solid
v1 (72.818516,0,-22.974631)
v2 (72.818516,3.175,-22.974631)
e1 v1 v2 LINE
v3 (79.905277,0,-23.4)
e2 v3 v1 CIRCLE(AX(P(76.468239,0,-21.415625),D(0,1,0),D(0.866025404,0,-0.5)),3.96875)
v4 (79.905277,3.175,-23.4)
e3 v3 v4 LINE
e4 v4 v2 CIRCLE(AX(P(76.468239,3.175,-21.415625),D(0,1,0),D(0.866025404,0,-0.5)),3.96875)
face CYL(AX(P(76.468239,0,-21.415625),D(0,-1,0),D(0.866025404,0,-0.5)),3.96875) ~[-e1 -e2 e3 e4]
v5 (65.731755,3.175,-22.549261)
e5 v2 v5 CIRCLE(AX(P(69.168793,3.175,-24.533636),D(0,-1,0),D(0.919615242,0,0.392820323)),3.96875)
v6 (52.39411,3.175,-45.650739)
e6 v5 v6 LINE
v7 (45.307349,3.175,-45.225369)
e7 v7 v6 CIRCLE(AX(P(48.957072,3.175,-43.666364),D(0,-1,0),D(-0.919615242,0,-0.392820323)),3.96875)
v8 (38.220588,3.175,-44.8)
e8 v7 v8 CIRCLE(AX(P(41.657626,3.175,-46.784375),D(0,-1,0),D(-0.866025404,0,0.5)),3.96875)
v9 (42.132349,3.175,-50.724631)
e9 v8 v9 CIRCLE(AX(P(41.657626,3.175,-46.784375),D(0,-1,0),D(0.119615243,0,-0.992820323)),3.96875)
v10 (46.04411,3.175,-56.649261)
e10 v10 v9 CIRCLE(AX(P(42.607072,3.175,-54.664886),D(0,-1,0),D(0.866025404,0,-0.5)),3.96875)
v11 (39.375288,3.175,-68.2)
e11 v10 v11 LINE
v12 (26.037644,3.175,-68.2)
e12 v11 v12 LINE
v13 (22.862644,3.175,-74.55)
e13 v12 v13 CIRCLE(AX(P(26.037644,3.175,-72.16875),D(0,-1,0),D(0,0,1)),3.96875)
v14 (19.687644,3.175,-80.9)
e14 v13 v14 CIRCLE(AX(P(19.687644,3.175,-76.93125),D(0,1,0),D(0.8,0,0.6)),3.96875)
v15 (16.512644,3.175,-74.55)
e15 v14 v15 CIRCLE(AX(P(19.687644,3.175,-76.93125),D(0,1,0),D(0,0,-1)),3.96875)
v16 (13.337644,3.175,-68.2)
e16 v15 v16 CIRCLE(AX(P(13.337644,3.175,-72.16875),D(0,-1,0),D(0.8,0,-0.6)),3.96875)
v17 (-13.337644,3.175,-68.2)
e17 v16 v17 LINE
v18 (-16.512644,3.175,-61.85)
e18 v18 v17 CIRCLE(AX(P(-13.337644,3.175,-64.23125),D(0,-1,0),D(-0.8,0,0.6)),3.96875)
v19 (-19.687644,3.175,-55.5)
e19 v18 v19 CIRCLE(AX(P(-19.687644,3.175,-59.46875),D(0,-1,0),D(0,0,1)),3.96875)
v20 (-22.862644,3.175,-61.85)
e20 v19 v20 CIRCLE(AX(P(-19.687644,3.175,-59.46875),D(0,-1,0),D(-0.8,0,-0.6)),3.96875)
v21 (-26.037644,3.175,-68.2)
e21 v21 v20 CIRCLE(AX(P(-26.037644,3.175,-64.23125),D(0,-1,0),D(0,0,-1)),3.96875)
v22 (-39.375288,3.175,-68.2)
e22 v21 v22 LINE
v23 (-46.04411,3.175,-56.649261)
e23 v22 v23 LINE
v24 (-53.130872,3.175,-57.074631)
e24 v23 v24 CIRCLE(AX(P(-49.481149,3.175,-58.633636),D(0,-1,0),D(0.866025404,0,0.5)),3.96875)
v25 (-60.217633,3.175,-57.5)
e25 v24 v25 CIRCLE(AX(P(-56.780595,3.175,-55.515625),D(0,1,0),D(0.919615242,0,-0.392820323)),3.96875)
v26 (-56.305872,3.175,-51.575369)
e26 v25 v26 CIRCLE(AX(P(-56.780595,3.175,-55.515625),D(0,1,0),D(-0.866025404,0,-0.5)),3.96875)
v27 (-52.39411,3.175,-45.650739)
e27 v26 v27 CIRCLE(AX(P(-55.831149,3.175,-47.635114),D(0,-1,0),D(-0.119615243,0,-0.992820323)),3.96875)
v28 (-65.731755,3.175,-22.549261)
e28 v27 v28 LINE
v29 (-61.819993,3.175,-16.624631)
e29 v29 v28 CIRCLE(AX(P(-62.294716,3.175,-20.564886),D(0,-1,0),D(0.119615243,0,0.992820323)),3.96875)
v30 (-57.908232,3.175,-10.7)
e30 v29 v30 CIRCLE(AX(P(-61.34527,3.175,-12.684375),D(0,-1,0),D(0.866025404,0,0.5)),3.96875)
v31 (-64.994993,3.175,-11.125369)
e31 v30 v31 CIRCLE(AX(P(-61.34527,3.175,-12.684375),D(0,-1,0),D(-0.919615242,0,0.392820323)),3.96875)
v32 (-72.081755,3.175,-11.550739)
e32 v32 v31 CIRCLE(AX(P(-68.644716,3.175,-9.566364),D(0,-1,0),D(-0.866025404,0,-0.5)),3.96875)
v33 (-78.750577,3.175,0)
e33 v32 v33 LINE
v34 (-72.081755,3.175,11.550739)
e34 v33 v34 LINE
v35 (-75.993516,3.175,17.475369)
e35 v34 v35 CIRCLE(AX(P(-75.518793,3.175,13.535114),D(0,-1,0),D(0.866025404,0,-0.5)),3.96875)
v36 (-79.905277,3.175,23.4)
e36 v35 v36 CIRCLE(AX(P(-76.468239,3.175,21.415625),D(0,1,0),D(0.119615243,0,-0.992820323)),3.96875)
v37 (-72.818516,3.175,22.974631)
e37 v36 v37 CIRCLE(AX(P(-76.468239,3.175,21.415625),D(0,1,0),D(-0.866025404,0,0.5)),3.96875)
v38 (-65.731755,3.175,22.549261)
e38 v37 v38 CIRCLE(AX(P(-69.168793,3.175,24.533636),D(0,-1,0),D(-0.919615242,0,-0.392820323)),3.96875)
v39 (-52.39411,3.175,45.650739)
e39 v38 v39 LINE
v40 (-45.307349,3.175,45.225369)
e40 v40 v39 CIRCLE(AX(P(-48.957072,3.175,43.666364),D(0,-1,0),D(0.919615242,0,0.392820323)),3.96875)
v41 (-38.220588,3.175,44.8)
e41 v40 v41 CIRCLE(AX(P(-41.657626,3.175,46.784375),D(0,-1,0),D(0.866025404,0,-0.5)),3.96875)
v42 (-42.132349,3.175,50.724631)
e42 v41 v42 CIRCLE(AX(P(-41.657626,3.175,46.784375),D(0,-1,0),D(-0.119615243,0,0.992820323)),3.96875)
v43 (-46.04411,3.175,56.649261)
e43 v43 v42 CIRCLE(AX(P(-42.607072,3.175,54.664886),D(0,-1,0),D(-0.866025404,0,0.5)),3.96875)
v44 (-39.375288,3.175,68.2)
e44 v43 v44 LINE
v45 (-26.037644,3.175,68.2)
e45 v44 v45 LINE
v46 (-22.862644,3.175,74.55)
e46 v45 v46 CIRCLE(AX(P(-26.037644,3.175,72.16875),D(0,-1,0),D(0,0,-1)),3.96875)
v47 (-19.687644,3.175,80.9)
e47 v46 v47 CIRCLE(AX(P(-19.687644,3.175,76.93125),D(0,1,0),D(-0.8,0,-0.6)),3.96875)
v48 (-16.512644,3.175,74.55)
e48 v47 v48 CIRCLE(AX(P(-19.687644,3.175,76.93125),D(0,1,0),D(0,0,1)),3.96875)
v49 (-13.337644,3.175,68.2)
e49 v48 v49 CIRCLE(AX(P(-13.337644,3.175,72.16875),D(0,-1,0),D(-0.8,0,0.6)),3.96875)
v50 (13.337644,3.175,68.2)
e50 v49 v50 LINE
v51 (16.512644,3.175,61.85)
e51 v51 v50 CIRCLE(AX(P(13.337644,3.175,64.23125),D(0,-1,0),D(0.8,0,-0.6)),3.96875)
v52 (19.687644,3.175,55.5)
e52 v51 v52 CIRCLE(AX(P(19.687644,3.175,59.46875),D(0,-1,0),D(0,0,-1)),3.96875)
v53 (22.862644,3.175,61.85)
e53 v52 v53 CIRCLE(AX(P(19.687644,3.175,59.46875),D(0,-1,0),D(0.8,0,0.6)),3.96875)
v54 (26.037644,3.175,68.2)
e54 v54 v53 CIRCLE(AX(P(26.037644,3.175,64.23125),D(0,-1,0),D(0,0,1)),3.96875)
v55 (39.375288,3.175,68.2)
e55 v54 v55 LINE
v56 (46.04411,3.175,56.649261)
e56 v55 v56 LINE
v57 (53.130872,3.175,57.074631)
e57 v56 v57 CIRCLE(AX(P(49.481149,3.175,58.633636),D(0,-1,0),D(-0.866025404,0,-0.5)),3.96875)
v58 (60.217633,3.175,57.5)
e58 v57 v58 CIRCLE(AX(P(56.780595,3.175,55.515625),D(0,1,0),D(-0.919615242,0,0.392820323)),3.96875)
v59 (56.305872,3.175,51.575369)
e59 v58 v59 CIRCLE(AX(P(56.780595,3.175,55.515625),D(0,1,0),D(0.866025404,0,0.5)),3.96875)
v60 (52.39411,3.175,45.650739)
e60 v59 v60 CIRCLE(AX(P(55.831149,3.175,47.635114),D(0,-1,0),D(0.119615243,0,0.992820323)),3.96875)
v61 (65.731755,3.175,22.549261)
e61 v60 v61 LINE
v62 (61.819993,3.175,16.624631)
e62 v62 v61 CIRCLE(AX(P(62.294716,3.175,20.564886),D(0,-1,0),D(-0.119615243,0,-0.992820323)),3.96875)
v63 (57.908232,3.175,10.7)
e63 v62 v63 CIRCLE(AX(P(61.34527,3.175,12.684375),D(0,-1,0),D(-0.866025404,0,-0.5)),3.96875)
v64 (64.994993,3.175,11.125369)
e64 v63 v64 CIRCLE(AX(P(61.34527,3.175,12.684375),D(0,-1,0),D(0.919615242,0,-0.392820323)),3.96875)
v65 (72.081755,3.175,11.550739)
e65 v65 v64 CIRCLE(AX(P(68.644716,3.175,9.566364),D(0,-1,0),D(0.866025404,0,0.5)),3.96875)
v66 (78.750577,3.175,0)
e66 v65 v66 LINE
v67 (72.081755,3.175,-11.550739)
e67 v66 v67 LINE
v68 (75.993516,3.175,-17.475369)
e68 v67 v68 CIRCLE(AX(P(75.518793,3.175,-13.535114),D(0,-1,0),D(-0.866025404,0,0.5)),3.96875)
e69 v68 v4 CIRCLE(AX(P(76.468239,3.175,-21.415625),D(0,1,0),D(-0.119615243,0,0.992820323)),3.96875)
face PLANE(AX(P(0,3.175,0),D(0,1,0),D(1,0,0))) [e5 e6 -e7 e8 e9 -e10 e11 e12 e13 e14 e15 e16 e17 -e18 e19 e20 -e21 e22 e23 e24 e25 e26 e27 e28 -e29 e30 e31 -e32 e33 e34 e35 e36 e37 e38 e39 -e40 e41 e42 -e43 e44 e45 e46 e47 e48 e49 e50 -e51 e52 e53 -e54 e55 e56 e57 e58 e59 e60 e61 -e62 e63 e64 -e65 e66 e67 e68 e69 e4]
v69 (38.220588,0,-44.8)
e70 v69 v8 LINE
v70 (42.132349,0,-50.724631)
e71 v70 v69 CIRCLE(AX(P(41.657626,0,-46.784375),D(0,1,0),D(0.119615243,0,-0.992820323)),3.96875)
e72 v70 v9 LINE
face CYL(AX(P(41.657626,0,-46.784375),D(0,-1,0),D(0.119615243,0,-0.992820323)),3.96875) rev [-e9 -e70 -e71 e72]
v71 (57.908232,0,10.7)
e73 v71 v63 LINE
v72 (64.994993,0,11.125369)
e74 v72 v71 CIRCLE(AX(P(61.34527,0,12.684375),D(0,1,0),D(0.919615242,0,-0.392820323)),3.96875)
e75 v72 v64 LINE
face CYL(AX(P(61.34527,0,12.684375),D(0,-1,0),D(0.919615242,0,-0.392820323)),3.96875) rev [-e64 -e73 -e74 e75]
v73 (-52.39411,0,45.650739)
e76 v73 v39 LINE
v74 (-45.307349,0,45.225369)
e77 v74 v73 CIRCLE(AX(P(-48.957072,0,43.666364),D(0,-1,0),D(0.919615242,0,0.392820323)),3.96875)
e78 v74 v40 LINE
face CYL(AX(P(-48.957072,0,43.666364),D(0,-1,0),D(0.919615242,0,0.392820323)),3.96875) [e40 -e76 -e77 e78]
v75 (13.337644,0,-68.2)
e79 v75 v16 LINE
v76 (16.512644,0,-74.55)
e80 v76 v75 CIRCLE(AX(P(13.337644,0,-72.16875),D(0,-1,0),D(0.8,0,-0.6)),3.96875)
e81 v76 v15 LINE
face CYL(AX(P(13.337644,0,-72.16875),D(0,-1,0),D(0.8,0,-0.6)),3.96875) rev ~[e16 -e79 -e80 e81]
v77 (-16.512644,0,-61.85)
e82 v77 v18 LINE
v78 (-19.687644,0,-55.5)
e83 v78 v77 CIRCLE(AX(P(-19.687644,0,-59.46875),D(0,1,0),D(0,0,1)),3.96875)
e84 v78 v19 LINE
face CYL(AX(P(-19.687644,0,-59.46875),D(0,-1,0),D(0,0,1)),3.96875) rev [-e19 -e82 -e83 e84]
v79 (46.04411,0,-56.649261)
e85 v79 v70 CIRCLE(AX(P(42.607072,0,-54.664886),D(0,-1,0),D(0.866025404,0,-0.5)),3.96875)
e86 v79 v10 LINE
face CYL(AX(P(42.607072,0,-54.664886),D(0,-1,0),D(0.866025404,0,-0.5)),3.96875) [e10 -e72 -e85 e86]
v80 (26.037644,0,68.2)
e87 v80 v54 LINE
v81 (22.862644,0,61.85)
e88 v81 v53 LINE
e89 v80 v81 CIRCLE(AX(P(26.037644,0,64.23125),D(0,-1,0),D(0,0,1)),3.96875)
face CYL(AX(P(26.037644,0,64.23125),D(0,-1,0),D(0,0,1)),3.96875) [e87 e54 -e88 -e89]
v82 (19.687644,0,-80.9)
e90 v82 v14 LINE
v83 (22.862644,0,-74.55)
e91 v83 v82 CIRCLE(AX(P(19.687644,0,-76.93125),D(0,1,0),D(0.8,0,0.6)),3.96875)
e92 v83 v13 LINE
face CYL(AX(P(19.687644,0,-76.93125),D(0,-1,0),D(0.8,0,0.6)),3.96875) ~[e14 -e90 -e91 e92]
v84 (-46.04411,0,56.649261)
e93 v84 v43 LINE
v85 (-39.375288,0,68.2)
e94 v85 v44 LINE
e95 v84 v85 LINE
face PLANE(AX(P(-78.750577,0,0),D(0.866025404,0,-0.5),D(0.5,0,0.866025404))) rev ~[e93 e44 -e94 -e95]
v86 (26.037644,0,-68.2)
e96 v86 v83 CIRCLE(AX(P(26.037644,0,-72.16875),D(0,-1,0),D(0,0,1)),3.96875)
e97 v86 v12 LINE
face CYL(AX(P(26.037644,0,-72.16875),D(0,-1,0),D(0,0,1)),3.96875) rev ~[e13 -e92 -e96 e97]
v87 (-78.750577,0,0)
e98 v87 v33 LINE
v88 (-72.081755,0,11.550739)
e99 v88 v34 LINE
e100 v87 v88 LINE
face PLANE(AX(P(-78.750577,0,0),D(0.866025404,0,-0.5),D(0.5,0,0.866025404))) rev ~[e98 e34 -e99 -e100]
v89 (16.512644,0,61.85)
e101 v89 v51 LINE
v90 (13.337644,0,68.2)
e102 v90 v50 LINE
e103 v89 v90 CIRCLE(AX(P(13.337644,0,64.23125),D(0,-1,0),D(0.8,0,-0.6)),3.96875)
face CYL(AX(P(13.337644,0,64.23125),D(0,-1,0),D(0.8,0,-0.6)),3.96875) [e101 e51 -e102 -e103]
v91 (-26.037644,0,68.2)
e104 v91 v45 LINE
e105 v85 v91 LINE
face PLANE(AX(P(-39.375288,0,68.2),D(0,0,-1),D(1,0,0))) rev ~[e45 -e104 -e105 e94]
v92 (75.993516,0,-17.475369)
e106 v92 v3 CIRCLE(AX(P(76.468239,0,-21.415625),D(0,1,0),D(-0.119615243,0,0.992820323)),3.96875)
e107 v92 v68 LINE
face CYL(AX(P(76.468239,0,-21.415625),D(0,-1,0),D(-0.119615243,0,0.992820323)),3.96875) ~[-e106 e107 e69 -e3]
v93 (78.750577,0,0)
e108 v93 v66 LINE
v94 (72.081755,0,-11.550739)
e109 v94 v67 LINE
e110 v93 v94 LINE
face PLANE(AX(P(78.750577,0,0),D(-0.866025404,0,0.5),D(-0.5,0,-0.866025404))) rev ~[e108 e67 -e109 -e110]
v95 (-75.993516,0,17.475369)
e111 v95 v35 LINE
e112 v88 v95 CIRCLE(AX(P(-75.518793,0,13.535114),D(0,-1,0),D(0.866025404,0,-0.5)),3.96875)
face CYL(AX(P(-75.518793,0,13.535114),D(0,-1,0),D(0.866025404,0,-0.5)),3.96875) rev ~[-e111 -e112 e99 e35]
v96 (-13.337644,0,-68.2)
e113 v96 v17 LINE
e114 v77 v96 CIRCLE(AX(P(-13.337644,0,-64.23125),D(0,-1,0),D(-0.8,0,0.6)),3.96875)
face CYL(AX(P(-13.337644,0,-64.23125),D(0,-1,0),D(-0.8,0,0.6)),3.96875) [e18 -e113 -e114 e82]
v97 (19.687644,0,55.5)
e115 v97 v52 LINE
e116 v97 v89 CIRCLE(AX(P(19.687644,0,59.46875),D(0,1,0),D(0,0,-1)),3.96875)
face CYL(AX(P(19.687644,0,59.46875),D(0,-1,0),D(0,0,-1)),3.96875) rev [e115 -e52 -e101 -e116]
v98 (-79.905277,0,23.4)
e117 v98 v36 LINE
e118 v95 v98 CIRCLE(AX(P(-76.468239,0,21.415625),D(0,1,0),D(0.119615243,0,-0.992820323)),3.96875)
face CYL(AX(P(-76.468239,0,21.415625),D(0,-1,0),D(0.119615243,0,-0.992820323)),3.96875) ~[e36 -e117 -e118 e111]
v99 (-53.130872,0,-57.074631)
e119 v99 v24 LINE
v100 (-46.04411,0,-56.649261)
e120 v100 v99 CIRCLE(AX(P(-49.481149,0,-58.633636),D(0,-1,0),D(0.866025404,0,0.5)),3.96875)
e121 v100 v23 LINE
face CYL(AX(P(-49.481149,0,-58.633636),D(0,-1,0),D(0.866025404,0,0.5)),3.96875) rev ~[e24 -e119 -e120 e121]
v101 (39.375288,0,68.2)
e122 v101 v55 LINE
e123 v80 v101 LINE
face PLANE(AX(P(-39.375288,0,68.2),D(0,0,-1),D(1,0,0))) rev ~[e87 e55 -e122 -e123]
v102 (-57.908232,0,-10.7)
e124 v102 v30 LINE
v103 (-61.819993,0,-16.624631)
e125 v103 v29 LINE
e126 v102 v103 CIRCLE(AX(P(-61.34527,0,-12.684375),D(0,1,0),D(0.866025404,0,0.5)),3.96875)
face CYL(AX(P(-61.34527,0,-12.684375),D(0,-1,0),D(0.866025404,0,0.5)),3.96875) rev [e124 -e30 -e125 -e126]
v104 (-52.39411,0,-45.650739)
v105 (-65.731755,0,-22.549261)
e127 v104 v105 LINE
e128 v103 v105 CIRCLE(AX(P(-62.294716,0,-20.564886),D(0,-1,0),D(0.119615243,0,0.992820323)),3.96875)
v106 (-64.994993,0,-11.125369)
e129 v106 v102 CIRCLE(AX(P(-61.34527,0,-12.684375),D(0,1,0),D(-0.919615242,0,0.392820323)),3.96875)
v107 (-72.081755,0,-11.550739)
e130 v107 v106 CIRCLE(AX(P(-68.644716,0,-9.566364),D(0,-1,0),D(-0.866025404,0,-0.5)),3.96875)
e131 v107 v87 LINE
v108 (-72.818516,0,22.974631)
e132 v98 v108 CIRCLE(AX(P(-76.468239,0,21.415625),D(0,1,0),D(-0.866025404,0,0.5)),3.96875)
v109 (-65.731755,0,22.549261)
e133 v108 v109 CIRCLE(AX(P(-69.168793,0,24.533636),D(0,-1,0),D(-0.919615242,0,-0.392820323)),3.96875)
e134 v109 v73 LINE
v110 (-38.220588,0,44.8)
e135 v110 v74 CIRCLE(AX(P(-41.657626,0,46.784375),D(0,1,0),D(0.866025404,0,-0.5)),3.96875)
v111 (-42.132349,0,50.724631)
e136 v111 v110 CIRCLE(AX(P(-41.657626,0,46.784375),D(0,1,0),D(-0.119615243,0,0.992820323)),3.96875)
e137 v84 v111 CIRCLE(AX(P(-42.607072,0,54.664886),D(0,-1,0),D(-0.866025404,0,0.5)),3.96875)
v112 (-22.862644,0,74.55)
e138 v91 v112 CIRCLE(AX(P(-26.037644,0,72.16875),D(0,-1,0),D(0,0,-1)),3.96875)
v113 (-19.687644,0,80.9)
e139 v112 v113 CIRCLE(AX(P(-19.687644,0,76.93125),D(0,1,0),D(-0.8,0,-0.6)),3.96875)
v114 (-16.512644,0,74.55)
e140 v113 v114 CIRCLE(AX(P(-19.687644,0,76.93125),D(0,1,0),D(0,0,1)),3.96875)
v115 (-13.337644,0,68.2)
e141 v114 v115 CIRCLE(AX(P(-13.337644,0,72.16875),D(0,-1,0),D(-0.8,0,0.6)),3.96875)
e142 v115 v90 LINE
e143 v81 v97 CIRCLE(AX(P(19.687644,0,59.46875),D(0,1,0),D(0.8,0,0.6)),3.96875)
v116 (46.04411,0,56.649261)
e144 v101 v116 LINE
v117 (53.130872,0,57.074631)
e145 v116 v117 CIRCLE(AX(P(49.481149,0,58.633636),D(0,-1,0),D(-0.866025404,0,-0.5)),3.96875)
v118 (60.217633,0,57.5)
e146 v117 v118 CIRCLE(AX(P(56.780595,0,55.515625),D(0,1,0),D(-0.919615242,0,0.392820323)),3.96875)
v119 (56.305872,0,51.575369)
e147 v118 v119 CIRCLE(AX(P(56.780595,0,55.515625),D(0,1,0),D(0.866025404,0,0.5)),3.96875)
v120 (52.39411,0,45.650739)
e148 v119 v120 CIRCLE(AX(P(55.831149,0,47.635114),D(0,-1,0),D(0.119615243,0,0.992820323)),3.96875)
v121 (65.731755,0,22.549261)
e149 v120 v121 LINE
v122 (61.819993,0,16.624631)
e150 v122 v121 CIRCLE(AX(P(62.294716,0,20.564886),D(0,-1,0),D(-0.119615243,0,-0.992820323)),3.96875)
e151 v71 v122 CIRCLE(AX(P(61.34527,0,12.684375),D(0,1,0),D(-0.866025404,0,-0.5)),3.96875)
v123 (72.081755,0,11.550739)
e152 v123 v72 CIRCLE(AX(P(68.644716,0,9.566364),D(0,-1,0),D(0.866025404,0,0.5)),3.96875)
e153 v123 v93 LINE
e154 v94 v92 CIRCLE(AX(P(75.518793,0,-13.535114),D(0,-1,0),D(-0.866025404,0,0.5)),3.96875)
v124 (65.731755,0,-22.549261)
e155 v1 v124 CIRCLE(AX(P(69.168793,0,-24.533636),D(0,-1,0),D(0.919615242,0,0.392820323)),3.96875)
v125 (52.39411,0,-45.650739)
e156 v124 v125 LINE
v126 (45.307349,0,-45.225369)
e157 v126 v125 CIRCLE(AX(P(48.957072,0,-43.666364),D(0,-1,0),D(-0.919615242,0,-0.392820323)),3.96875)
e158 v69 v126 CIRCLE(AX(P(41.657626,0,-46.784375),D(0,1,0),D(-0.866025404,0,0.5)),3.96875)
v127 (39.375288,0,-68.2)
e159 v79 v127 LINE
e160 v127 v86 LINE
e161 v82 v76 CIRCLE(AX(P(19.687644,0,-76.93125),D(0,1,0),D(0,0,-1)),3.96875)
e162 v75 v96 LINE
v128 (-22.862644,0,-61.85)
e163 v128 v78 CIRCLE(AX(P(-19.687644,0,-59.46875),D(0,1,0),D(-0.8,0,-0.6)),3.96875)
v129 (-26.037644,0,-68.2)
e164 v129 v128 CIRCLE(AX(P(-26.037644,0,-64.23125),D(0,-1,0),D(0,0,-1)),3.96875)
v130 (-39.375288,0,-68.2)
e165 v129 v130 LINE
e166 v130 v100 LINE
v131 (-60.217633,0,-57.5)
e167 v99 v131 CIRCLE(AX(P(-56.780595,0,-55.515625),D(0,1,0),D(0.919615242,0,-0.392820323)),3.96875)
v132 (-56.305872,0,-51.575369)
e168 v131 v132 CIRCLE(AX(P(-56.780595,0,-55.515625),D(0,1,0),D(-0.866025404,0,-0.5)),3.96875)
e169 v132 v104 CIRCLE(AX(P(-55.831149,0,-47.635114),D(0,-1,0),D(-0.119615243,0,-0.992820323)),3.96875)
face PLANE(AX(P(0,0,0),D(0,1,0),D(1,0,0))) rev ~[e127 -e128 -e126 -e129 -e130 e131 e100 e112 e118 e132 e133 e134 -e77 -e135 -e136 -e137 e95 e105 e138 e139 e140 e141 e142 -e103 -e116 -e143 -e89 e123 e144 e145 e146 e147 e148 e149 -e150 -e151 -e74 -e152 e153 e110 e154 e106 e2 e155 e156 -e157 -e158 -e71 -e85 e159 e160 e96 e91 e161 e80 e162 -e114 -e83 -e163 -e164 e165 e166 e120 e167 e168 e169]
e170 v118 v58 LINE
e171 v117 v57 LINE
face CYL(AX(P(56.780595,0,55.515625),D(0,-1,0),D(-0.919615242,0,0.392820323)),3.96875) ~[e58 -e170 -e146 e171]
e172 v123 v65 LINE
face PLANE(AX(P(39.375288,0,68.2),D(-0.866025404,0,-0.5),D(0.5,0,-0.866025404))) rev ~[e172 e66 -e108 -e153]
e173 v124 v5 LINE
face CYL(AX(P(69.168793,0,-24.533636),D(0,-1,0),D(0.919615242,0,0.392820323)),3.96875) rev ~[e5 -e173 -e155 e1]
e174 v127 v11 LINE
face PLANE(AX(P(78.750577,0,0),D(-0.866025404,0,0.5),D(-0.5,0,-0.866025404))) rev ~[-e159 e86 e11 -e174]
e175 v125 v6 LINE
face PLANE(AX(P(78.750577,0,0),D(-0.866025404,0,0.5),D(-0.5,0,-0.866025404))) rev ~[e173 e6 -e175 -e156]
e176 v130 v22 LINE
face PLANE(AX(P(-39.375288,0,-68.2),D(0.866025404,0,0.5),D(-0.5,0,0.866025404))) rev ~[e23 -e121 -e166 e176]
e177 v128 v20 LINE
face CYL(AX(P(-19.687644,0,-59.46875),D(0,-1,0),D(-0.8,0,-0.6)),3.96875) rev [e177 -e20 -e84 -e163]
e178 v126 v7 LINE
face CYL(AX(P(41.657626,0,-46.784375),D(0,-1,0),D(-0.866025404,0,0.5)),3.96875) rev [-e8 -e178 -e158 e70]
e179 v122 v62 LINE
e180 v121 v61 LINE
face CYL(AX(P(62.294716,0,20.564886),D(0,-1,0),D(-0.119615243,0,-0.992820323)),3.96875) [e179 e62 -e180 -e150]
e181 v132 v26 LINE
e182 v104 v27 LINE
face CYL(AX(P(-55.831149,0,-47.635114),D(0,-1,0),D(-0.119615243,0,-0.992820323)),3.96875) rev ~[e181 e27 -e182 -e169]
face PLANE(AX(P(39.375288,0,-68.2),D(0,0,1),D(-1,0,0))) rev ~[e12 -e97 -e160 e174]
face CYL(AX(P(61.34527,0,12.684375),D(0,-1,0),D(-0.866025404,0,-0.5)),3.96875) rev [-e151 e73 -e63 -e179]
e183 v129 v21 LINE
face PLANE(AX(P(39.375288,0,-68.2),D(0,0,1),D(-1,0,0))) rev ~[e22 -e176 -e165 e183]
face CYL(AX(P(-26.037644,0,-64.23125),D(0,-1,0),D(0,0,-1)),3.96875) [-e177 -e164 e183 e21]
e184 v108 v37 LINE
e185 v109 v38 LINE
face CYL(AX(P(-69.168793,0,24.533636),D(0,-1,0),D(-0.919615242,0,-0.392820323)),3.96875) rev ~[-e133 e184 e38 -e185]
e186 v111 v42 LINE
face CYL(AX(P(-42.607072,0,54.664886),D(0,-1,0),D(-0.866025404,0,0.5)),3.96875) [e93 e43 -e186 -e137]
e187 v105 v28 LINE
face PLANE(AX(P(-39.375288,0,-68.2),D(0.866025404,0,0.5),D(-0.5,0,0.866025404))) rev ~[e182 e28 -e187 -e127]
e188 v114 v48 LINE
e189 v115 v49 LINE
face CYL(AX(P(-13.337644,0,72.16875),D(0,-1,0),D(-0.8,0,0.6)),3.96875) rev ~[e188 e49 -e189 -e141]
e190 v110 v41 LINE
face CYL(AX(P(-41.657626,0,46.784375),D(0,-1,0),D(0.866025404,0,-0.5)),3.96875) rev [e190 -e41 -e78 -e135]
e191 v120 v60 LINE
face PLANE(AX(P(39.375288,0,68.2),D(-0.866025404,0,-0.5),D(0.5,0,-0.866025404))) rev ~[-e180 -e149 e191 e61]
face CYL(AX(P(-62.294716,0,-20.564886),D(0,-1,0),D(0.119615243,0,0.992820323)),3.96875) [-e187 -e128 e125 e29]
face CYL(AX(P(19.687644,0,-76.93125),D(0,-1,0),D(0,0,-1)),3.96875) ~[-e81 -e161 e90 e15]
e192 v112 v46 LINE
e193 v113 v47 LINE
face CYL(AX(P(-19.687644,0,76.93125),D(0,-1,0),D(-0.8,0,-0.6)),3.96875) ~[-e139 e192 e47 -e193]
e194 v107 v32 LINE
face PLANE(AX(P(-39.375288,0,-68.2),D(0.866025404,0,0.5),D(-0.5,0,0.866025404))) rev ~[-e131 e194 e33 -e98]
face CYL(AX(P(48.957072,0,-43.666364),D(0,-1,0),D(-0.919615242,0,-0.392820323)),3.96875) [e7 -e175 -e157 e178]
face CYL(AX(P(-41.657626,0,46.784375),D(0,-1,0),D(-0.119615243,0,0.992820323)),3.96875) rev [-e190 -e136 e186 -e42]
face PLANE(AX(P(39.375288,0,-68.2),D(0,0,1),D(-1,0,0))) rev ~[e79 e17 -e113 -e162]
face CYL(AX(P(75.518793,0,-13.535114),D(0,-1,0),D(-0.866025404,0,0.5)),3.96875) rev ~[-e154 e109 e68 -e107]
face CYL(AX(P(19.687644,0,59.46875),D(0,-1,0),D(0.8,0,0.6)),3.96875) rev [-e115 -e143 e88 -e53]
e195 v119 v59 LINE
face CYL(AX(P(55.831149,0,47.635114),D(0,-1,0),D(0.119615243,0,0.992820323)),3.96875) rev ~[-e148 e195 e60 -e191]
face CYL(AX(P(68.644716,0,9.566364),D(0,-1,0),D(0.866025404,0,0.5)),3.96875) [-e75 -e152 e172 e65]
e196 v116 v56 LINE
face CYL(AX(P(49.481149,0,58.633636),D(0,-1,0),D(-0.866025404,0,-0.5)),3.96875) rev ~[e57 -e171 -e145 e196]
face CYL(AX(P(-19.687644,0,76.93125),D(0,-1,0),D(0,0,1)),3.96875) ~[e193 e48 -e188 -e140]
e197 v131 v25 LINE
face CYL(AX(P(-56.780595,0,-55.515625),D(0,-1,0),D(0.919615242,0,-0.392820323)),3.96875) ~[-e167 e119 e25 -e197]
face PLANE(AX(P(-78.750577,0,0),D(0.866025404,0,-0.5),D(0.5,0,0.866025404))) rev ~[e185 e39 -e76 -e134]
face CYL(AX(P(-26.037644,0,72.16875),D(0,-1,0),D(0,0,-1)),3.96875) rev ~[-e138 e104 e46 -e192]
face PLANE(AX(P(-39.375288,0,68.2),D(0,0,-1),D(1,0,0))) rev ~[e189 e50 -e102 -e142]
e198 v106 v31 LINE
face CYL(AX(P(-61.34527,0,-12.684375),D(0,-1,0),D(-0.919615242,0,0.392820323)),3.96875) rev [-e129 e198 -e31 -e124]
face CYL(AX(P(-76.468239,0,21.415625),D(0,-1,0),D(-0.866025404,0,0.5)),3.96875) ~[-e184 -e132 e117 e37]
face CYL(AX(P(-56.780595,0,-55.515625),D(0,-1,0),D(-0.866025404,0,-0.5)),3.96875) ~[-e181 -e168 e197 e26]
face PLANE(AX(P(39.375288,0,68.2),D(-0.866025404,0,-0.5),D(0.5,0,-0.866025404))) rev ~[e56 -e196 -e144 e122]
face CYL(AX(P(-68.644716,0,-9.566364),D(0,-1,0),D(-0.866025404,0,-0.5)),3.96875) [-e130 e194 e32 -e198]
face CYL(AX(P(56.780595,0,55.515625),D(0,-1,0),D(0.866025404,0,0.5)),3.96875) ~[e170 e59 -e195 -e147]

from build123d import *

# Parameters (mm, degrees)
BOSS_EXTRUDE1_DEPTH = 3.175
BOSS_EXTRUDE2_DEPTH = 3.175
CUT_EXTRUDE2_DEPTH  = 113.944871324
CIRPATTERN1_COUNT   = 6


with BuildPart() as part:
    # Sketch1 → Boss-Extrude1 (new body)
    with BuildSketch(Plane(origin=(0, 0, 0), x_dir=(1, 0, 0), z_dir=(0, 1, 0))):
        Polygon((-39.375288359, 68.2), (-78.750576717, 0), (-39.375288359, -68.2), (39.375288359, -68.2), (78.750576717, 0), (39.375288359, 68.2), align=None)
    extrude(amount=BOSS_EXTRUDE1_DEPTH)

    # Sketch2 → Boss-Extrude2 (add)
    with BuildSketch(Plane(origin=(0, 0, 0), x_dir=(1, 0, 0), z_dir=(0, 1, 0))):
        with BuildLine():
            ThreePointArc((16.512644179, 74.55), (16.887402094, 70.393871043), (13.337644179, 68.2))
            Line((13.337644179, 68.2), (26.037644179, 68.2))
            ThreePointArc((26.037644179, 68.2), (22.487886265, 70.393871043), (22.862644179, 74.55))
            ThreePointArc((22.862644179, 74.55), (23.237402094, 78.706128957), (19.687644179, 80.9))
            ThreePointArc((19.687644179, 80.9), (16.137886265, 78.706128957), (16.512644179, 74.55))
        make_face()
    boss_extrude2 = extrude(amount=BOSS_EXTRUDE2_DEPTH)

    # Sketch2<3> → Cut-Extrude2 (cut, through all)
    with BuildSketch(Plane(origin=(0, 0, 0), x_dir=(1, 0, 0), z_dir=(0, 1, 0))):
        with BuildLine():
            Line((-13.337644179, 68.2), (-26.037644179, 68.2))
            ThreePointArc((-26.037644179, 68.2), (-22.487886265, 66.006128957), (-22.862644179, 61.85))
            ThreePointArc((-22.862644179, 61.85), (-23.237402094, 57.693871043), (-19.687644179, 55.5))
            ThreePointArc((-19.687644179, 55.5), (-16.137886265, 57.693871043), (-16.512644179, 61.85))
            ThreePointArc((-16.512644179, 61.85), (-16.887402094, 66.006128957), (-13.337644179, 68.2))
        make_face()
    cut_extrude2 = extrude(amount=CUT_EXTRUDE2_DEPTH, mode=Mode.SUBTRACT)

    # CirPattern1: Boss-Extrude2, Cut-Extrude2 ×6 about axis
    cirpattern1_axis = Axis((0, 0, 0), (0, 1, 0))
    add([boss_extrude2.rotate(cirpattern1_axis, i * 360 / CIRPATTERN1_COUNT) for i in range(1, CIRPATTERN1_COUNT)])
    add([cut_extrude2.rotate(cirpattern1_axis, i * 360 / CIRPATTERN1_COUNT) for i in range(1, CIRPATTERN1_COUNT)], mode=Mode.SUBTRACT)


solid = part.part
